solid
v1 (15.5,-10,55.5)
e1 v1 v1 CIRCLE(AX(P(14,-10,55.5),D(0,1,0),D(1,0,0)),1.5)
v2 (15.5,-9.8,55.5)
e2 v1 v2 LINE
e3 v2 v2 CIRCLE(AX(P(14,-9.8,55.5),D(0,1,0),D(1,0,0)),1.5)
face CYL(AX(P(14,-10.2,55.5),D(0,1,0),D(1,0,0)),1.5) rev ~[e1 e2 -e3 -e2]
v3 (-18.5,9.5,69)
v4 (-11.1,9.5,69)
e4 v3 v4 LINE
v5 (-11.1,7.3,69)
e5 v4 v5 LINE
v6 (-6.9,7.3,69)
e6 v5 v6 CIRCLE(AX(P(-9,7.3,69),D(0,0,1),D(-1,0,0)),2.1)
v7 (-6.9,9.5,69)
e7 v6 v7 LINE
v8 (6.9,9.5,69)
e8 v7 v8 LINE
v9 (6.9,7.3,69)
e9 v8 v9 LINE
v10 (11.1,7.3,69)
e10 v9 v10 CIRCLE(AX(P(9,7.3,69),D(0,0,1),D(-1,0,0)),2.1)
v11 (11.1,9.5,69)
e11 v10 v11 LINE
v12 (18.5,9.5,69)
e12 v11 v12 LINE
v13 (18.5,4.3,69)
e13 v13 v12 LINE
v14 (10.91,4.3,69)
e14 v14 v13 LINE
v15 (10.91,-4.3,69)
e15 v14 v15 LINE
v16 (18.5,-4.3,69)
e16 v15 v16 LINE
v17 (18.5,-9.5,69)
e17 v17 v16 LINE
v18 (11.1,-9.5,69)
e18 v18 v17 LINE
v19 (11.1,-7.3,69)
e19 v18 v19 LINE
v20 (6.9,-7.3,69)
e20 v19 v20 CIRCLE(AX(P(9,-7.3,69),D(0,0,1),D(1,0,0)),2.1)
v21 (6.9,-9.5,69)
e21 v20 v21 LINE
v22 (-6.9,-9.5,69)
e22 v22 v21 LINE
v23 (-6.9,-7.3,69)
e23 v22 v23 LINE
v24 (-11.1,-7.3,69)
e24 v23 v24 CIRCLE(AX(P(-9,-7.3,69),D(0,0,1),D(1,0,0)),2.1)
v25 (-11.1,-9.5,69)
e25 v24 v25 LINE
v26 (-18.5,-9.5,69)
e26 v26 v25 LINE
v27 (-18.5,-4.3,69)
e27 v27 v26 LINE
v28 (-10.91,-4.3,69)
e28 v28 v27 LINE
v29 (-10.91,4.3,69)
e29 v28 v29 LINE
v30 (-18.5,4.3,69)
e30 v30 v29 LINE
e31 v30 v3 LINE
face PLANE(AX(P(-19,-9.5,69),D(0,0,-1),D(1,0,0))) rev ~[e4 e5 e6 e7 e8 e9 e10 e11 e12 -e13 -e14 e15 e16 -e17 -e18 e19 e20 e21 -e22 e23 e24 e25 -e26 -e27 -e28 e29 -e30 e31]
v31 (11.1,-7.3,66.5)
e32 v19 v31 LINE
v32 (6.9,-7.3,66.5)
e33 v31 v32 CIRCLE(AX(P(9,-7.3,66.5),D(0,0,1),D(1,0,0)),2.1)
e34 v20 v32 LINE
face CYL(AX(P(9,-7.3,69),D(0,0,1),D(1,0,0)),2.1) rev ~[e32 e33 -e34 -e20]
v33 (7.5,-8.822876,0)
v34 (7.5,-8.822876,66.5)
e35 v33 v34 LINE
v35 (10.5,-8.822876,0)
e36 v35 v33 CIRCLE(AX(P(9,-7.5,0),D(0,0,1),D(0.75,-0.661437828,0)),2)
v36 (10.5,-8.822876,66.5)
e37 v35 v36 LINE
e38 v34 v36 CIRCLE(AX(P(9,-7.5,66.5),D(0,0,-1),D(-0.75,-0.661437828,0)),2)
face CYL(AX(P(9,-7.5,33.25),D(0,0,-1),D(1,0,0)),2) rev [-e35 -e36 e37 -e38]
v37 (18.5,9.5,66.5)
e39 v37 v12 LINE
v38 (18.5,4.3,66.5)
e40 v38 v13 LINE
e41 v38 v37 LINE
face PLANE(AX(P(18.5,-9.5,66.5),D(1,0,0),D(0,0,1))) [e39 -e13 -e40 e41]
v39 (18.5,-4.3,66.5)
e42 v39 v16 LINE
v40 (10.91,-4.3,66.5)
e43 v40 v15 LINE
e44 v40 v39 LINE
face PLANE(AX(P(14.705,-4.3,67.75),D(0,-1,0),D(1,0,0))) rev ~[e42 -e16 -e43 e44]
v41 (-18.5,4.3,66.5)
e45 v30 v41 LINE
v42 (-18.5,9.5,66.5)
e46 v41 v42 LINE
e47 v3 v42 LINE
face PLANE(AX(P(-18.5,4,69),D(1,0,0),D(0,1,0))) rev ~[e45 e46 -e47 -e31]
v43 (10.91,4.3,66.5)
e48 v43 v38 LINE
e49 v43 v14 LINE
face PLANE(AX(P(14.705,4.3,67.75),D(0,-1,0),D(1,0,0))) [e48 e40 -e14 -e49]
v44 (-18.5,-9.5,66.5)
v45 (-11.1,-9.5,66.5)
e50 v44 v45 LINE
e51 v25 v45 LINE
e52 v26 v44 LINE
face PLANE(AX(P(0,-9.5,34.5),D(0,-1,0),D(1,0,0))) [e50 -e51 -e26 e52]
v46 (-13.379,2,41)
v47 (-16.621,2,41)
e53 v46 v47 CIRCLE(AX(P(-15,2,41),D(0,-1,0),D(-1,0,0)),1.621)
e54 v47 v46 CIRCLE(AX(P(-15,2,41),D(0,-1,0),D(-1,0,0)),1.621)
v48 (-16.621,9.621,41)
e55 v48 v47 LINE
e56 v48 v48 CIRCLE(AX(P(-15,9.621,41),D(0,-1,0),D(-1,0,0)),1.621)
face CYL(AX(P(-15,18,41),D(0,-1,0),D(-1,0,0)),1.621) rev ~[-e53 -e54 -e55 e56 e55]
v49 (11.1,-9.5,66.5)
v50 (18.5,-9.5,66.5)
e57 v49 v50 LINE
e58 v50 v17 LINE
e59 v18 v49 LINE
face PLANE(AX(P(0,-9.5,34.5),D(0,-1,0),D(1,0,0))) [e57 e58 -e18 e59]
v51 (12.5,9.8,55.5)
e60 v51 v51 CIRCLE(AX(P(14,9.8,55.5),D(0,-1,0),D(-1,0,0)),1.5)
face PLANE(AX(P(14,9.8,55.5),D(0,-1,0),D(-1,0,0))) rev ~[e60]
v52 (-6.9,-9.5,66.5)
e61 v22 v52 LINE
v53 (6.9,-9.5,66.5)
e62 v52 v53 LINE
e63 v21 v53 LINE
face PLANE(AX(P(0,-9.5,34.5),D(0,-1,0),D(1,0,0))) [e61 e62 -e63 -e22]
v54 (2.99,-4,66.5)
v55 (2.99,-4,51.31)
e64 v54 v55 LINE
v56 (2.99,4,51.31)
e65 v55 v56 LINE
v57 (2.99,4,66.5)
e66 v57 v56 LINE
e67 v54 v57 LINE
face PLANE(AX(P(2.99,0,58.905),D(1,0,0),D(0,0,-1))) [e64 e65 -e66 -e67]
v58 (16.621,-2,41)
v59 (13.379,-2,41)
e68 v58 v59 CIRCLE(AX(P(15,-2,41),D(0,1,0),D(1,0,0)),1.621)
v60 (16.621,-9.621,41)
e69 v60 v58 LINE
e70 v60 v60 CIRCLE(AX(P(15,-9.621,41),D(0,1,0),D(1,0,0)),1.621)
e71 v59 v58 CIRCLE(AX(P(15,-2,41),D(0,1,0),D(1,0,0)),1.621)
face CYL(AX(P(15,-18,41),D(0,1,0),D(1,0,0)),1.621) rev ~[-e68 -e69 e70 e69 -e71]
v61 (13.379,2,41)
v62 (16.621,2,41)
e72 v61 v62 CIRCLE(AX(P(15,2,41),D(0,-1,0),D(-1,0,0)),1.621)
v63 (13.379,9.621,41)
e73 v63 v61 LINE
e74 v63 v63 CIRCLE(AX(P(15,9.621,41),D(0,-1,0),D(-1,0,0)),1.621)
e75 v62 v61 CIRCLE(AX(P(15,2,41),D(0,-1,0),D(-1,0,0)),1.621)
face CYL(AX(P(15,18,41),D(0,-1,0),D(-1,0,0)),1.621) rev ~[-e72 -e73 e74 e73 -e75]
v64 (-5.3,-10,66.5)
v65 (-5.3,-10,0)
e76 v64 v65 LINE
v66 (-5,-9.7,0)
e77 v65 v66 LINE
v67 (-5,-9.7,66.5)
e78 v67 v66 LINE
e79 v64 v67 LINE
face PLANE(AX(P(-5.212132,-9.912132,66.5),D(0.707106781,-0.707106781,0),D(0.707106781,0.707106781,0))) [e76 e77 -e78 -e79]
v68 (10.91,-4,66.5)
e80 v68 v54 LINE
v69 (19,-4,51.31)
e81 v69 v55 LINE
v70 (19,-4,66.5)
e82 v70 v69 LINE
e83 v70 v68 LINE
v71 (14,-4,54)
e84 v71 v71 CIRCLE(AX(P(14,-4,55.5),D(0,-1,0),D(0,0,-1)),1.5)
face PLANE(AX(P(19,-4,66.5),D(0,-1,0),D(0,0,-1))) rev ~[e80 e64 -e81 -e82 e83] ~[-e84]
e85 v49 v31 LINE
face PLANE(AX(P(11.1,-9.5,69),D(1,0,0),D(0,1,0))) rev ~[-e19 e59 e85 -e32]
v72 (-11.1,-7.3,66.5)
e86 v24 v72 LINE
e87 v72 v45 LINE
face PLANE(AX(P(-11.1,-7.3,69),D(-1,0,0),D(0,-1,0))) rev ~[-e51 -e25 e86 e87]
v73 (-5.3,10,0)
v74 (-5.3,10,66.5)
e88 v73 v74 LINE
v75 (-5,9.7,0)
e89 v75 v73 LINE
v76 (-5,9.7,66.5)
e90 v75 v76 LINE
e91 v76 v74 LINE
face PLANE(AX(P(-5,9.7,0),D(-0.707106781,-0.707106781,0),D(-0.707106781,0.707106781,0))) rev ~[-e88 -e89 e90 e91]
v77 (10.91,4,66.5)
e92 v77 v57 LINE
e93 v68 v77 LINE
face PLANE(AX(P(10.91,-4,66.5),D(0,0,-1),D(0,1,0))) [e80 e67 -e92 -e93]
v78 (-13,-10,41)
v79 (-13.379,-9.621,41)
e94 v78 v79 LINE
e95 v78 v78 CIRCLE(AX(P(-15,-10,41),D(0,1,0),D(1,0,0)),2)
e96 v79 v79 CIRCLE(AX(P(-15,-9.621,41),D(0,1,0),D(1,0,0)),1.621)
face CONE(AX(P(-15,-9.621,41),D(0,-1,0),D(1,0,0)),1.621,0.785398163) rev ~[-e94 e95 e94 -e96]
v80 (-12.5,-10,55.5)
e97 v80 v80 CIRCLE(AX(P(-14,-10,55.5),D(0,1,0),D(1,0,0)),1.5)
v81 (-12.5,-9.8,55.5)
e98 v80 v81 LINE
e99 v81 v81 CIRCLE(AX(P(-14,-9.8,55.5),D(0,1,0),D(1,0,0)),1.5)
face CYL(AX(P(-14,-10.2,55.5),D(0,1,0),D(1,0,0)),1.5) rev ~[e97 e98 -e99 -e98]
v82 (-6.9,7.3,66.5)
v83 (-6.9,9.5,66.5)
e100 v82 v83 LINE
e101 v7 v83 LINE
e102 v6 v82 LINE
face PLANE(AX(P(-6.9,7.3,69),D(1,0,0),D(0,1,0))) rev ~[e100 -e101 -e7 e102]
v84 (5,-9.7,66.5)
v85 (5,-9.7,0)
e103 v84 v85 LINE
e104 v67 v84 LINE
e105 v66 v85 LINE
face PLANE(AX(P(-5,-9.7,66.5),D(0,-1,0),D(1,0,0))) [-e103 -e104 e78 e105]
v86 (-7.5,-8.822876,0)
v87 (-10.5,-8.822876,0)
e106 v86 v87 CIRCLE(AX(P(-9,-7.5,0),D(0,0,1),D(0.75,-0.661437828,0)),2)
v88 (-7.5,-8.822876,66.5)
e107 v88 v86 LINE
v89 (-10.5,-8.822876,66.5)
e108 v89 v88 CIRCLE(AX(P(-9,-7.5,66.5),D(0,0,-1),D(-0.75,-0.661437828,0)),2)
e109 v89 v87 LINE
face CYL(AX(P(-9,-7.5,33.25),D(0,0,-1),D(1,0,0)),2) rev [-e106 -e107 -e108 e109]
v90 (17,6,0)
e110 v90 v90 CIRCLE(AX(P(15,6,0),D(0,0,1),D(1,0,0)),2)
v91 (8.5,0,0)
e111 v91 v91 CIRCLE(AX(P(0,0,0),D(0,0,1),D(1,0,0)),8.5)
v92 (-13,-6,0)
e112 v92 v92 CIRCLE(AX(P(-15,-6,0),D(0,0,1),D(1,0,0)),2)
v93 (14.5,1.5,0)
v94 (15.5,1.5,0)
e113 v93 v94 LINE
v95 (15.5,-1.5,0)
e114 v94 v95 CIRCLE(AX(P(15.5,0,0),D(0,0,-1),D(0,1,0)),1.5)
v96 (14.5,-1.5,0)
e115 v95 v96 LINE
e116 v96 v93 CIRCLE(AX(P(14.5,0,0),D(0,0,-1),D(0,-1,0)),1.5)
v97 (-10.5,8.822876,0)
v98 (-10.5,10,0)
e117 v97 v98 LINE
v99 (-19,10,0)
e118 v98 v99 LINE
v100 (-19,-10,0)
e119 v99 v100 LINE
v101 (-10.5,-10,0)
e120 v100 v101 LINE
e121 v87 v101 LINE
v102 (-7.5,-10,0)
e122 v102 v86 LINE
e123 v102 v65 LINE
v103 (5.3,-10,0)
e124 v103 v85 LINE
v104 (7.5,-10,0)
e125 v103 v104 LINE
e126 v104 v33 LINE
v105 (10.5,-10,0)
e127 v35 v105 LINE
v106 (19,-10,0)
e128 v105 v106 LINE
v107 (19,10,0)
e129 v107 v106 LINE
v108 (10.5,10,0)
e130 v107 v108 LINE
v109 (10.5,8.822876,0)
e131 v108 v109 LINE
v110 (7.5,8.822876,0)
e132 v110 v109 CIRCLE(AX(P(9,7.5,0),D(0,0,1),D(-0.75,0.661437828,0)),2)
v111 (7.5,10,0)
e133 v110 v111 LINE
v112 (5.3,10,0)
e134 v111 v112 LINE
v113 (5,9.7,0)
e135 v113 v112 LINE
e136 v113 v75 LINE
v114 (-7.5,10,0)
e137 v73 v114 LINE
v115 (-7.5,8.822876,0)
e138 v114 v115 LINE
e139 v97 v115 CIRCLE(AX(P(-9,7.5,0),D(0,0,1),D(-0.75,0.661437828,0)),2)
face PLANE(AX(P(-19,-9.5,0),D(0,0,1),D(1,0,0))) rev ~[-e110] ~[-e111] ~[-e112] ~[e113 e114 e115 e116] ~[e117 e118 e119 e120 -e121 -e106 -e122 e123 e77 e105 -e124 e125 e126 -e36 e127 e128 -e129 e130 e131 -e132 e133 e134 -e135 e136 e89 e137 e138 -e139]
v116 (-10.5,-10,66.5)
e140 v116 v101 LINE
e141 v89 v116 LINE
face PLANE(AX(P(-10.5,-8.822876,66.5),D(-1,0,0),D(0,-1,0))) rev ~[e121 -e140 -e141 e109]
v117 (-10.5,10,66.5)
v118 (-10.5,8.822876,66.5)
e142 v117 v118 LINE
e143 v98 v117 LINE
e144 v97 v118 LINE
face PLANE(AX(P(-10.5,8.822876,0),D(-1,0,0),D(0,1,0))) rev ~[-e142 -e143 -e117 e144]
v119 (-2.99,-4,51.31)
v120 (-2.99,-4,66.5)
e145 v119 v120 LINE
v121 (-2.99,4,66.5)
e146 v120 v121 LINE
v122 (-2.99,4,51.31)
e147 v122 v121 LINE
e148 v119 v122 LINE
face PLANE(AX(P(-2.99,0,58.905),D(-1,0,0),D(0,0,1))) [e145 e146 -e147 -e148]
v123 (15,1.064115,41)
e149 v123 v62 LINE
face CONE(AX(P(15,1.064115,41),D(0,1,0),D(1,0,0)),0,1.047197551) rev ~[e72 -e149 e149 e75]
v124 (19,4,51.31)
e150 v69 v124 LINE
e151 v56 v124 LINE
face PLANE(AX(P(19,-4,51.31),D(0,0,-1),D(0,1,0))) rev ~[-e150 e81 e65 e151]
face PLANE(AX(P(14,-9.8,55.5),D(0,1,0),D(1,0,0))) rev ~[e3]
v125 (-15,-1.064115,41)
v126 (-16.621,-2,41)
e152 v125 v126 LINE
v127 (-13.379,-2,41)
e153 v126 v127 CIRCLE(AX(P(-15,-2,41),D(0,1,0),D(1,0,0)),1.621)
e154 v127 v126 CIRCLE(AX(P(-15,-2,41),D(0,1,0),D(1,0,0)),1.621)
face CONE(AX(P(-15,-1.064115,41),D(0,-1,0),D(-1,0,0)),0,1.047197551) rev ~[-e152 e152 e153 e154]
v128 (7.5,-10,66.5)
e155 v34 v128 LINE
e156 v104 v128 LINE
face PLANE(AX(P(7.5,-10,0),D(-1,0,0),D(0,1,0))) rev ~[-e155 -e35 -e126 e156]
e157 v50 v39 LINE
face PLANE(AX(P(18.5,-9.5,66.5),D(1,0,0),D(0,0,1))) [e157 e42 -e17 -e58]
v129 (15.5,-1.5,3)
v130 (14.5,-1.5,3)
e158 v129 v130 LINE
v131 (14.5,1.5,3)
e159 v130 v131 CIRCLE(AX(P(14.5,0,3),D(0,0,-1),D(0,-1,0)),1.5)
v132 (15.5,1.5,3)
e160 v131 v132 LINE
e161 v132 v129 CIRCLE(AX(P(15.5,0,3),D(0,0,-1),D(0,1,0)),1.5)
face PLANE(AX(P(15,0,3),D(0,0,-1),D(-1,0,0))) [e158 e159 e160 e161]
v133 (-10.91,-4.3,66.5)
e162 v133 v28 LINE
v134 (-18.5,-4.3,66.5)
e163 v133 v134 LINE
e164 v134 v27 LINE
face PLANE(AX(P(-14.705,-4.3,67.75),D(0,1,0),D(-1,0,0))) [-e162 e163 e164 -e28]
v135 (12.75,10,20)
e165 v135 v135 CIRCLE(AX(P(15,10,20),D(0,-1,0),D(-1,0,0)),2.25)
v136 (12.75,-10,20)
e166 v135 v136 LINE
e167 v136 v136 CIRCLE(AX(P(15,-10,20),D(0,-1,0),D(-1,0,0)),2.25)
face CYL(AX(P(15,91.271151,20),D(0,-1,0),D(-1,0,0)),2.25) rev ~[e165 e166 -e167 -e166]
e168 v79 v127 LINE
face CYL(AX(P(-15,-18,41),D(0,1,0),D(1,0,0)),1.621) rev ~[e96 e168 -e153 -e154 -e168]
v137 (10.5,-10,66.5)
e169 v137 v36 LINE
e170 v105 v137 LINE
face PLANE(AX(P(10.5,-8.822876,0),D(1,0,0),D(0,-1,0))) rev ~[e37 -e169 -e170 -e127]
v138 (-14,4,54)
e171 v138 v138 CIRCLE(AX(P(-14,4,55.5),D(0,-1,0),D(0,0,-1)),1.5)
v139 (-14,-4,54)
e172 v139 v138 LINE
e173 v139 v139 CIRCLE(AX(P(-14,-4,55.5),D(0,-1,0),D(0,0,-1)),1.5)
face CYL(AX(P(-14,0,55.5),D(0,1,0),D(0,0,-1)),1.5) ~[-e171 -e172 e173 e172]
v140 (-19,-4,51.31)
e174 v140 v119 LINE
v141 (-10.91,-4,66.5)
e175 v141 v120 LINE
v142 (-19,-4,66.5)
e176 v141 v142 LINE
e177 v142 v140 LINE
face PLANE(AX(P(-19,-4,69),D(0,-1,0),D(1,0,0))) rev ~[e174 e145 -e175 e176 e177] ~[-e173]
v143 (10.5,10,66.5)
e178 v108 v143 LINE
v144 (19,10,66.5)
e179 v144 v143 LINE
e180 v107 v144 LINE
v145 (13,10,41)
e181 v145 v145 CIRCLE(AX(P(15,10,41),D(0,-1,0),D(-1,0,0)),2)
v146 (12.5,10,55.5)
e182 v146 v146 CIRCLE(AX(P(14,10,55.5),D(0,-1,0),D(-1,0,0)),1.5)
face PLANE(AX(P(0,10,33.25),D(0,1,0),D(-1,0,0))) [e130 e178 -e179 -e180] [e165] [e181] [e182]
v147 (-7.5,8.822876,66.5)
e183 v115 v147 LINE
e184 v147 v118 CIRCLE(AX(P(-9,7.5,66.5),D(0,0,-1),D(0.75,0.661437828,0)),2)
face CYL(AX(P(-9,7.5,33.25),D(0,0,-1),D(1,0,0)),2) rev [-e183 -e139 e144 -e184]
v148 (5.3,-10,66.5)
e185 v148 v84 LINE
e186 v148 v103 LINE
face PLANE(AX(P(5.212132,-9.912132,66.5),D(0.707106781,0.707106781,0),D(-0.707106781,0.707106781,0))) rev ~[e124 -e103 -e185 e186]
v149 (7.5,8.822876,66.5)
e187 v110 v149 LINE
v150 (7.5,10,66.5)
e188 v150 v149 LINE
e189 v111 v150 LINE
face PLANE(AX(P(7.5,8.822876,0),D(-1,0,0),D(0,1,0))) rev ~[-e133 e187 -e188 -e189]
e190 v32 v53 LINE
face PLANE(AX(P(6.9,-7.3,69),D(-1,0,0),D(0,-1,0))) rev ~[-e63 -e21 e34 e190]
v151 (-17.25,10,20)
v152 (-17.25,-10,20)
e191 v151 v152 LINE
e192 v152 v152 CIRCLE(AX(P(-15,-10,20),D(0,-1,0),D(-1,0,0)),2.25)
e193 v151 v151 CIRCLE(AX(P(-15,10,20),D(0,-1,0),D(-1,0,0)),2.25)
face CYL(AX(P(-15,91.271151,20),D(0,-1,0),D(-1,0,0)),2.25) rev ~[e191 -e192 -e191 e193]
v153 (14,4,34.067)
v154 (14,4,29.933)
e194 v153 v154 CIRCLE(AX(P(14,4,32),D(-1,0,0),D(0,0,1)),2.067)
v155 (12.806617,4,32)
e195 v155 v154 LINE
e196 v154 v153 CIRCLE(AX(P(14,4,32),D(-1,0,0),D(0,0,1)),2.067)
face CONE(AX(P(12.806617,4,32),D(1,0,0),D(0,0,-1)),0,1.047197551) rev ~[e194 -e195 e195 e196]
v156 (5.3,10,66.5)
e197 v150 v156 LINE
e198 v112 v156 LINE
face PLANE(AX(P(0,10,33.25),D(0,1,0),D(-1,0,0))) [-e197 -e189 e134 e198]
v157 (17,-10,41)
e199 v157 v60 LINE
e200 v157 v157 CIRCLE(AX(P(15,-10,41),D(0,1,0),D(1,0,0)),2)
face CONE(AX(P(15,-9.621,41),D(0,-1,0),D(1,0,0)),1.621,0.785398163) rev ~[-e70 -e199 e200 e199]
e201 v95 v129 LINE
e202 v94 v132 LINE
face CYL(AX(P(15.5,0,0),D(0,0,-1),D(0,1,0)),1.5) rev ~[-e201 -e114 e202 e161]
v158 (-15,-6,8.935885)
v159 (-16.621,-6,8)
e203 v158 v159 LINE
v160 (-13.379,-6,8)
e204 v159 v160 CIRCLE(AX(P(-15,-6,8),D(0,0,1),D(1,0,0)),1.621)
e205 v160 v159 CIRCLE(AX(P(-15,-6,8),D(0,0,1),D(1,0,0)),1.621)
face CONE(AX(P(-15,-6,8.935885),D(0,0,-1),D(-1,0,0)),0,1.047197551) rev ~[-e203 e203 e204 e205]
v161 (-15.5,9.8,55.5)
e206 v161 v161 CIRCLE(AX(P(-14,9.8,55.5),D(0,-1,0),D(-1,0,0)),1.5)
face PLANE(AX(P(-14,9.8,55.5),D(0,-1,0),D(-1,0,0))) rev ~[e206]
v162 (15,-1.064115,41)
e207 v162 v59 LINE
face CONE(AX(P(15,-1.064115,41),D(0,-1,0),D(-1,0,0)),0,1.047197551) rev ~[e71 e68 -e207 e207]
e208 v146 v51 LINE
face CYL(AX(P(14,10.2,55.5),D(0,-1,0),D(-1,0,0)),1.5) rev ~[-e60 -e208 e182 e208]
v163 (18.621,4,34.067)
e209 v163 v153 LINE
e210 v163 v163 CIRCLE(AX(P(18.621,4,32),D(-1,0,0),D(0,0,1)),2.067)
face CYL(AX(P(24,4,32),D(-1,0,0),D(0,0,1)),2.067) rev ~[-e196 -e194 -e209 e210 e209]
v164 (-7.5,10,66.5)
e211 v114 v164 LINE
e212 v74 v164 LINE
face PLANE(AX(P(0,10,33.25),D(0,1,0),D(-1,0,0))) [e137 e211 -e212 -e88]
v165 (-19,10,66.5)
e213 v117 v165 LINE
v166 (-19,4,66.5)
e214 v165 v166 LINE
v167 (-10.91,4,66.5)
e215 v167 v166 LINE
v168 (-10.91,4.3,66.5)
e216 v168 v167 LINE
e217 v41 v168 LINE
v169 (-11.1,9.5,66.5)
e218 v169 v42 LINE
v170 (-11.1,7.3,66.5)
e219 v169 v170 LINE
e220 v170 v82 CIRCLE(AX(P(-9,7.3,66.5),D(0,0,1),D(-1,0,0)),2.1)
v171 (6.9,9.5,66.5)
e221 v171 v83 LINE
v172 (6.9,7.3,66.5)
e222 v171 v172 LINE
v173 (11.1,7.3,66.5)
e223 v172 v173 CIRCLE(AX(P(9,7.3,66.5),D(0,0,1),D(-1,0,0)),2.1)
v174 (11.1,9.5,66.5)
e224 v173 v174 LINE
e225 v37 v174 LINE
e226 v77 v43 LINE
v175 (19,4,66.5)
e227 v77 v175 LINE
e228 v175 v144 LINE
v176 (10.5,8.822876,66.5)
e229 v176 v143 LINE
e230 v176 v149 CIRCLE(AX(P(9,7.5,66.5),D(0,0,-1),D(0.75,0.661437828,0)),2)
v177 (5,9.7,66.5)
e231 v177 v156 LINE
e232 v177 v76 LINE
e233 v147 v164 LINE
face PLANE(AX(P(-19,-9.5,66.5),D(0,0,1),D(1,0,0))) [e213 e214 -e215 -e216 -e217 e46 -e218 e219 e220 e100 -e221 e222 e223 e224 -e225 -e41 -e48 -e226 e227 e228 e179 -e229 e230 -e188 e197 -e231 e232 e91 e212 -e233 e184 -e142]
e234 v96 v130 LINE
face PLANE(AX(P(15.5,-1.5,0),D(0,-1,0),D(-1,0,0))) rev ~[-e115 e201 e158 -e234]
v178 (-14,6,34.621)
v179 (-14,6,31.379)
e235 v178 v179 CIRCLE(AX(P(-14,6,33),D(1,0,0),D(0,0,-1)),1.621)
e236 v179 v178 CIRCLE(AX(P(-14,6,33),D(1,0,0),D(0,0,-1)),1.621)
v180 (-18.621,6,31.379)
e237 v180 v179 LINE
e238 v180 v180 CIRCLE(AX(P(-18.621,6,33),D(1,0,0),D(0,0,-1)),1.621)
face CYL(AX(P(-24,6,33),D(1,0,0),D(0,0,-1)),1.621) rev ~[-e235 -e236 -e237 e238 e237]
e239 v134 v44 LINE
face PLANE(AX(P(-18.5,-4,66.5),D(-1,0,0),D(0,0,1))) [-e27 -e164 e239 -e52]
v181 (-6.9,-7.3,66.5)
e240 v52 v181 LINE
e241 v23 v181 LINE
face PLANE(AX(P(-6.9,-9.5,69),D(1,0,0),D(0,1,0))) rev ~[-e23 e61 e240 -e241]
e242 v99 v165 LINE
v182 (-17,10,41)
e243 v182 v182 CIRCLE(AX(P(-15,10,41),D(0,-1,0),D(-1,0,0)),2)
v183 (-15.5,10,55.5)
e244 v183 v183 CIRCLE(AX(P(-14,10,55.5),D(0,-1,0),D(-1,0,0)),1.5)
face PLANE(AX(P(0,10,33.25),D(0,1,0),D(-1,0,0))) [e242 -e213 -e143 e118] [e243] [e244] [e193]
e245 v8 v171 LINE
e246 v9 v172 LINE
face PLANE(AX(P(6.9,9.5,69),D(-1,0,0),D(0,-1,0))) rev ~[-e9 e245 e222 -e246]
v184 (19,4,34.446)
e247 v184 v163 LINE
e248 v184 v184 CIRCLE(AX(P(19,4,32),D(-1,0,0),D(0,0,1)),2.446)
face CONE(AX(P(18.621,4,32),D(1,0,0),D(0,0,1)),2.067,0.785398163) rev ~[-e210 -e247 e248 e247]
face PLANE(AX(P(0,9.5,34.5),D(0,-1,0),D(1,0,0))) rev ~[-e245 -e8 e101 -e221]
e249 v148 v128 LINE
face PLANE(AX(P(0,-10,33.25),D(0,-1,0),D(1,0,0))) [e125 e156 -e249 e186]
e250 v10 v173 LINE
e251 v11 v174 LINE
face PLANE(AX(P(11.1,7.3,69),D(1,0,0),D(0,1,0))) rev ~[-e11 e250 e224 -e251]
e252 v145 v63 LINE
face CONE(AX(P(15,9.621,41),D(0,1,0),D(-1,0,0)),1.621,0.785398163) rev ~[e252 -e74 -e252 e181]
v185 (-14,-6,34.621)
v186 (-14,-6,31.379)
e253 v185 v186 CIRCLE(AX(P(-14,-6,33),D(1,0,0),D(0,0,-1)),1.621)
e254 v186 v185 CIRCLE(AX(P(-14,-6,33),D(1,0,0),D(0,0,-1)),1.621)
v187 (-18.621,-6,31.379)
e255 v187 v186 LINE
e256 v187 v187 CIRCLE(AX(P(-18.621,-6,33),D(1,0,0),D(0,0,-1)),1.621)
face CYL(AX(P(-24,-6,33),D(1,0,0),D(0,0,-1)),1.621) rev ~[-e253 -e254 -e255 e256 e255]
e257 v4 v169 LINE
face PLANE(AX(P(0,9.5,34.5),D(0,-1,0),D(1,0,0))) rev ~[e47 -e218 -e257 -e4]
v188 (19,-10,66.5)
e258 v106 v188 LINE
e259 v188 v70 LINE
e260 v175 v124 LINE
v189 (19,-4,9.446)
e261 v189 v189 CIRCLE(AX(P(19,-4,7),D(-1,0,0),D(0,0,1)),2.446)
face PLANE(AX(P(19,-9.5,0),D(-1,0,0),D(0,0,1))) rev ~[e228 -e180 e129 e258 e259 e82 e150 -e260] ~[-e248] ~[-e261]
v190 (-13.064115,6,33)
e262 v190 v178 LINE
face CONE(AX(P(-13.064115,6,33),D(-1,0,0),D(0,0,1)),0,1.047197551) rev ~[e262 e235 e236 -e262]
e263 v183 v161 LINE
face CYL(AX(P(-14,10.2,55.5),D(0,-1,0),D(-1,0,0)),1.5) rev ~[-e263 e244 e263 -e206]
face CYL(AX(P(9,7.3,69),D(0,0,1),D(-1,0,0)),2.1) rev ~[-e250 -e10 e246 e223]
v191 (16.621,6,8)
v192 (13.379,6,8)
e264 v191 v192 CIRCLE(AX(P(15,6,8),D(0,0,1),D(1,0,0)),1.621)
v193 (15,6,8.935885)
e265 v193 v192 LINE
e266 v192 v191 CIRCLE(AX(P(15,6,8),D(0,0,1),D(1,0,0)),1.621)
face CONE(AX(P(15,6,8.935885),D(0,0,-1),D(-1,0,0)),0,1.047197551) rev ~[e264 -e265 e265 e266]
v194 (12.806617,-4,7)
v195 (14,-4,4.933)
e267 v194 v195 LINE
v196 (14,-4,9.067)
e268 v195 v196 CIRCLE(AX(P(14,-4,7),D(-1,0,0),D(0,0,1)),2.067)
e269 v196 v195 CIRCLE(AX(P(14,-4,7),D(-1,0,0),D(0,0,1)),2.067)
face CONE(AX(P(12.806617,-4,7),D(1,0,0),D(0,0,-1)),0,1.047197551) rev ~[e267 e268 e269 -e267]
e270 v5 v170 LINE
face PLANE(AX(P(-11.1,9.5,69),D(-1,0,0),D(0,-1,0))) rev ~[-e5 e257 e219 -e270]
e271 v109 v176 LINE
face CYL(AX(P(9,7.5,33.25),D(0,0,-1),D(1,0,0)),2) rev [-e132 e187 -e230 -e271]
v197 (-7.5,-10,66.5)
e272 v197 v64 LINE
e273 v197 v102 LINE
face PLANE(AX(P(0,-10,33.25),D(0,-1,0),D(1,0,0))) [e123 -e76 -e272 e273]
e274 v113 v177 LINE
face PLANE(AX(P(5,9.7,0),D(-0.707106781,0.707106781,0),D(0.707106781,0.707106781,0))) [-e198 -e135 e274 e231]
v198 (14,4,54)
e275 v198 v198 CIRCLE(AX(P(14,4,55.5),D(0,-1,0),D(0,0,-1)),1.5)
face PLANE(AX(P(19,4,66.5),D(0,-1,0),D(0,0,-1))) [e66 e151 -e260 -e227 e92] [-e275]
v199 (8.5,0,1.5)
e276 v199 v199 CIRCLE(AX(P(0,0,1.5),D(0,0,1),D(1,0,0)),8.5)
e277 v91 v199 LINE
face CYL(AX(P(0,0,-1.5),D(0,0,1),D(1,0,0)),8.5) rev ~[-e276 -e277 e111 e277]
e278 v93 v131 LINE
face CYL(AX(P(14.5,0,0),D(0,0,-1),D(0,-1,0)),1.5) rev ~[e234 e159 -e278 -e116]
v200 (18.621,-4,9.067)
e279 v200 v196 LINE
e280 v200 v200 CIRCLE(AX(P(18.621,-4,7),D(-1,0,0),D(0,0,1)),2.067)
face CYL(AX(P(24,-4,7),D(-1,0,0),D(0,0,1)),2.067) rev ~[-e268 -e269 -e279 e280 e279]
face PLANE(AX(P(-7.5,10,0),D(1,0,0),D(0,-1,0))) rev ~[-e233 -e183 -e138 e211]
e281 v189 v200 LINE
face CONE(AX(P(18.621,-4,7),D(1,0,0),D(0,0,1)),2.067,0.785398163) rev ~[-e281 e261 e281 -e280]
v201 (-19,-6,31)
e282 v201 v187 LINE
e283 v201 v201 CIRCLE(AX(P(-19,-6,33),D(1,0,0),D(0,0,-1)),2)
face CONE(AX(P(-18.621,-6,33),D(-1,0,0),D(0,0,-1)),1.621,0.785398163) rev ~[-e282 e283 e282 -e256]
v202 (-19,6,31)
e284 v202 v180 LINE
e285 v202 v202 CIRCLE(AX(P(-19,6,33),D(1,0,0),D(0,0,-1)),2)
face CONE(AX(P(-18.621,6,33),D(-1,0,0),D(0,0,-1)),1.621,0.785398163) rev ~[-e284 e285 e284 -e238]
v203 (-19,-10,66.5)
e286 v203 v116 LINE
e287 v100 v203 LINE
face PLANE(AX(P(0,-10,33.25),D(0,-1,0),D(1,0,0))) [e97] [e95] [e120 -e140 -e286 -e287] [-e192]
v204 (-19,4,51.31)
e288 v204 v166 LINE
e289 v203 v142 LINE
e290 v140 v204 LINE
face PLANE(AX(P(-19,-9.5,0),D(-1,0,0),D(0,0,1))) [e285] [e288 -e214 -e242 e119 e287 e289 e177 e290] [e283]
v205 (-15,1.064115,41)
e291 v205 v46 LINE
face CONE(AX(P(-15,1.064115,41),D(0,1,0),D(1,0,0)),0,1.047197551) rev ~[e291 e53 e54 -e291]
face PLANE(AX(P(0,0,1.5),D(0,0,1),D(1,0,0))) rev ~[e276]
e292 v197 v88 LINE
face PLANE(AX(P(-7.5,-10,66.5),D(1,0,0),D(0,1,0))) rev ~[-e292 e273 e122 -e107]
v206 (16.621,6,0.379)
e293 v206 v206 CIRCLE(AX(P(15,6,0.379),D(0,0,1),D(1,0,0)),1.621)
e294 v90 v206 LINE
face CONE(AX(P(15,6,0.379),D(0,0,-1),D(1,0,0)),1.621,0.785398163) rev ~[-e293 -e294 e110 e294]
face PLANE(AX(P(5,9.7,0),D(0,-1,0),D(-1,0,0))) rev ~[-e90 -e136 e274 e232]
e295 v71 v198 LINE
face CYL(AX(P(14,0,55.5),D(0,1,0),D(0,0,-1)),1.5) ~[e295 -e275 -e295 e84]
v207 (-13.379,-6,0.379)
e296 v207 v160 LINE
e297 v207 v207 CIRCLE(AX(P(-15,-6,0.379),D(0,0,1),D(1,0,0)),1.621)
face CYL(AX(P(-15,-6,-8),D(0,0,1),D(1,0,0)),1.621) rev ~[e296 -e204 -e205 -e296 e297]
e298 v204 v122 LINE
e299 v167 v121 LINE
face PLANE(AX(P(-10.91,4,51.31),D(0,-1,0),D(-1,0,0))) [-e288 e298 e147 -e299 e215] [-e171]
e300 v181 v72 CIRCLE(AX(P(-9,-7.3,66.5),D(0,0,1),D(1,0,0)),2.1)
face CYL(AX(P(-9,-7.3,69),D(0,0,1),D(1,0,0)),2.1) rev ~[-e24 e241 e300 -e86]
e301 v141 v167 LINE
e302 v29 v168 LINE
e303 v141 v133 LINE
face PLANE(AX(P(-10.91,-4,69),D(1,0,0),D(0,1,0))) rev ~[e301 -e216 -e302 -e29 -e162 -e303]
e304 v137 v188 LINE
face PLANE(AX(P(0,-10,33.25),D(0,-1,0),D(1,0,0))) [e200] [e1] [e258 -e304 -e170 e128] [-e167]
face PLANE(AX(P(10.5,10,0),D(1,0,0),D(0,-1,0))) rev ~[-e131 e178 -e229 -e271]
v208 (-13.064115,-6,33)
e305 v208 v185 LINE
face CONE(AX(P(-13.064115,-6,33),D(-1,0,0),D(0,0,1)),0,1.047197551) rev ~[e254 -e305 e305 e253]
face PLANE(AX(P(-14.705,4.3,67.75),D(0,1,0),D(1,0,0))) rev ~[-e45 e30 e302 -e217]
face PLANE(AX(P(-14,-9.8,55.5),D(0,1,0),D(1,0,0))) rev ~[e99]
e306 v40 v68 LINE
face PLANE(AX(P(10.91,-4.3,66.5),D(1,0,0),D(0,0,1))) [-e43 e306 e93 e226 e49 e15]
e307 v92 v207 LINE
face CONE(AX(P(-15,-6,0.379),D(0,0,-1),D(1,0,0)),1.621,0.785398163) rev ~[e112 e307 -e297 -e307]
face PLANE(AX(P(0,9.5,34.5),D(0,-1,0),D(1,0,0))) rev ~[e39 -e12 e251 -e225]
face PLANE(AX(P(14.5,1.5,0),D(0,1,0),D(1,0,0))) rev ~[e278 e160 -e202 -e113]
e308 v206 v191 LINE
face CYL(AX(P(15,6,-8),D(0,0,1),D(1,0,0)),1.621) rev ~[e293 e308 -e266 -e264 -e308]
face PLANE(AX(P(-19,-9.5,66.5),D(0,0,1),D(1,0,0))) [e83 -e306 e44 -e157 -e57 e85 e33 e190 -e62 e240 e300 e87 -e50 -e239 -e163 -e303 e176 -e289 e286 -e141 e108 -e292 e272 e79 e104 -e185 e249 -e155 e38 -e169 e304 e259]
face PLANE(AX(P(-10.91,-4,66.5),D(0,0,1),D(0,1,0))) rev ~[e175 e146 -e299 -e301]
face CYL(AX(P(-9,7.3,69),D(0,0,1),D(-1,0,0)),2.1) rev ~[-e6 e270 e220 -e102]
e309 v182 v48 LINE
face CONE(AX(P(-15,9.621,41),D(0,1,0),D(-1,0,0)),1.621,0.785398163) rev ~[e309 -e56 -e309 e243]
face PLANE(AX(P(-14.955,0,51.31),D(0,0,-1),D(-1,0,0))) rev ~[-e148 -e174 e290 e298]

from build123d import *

# Parameters (mm, degrees)
SKETCH_1_W                  = 38
SKETCH_1_H                  = 69
EXTRUDE_1_DEPTH             = 19
CUT_EXTRUDE_1_DEPTH         = 2.5
CUT_EXTRUDE_2_REACH         = 57.533
SKETCH_4_W                  = 8.09
SKETCH_4_H                  = 8
SKETCH_5_W                  = 15.19
SKETCH_5_H                  = 8
CUT_EXTRUDE_3_DEPTH         = 7.92
SKETCH_6_W                  = 0.5
SKETCH_6_H                  = 2.5
CUT_EXTRUDE_4_DEPTH         = 75.047282192
SKETCH_7_W                  = 38
SKETCH_7_H                  = 66.5
EXTRUDE_2_DEPTH             = 0.5
SKETCH_8_W                  = 0.5
SKETCH_8_H                  = 2.5
CUT_EXTRUDE_5_DEPTH         = 73.924618614
SKETCH_9_W                  = 38
SKETCH_9_H                  = 66.5
EXTRUDE_3_DEPTH             = 0.5
SKETCH_10_W                 = 15.19
SKETCH_10_H                 = 8
CUT_EXTRUDE_6_DEPTH         = 0.5
SKETCH_11_W                 = 17.69
SKETCH_11_H                 = 8
CUT_EXTRUDE_7_DEPTH         = 7.59
SKETCH_12_W                 = 15.19
SKETCH_12_H                 = 8
CUT_EXTRUDE_8_DEPTH         = 7.92
CUT_EXTRUDE_9_REACH         = 74.983
SKETCH_13_W                 = 7.59
SKETCH_13_H                 = 2.5
SKETCH_14_W                 = 7.59
SKETCH_14_H                 = 2.5
CUT_EXTRUDE_10_DEPTH        = 0.3
CUT_EXTRUDE_11_REACH        = 74.983
SKETCH_15_W                 = 7.59
SKETCH_15_H                 = 2.5
SKETCH_16_W                 = 7.59
SKETCH_16_H                 = 2.5
CUT_EXTRUDE_12_DEPTH        = 0.3
CUT_EXTRUDE_13_DEPTH        = 2.5
CUT_EXTRUDE_14_DEPTH        = 2.5
CUT_EXTRUDE_15_DEPTH        = 2.5
CUT_EXTRUDE_16_DEPTH        = 2.5
SKETCH_21_W                 = 10
SKETCH_21_H                 = 0.3
CUT_EXTRUDE_17_DEPTH        = 70.880254722
CUT_EXTRUDE_18_DEPTH        = 70.880254722
CUT_EXTRUDE_19_DEPTH        = 73.263407061
CUT_EXTRUDE_20_DEPTH        = 73.263407061
SKETCH_25_W                 = 10
SKETCH_25_H                 = 0.3
CUT_EXTRUDE_21_DEPTH        = 66.5
CUT_EXTRUDE_22_DEPTH        = 73.263407061
CUT_EXTRUDE_23_DEPTH        = 3
DRAFT_1_ANGLE               = 45
DRAFT_2_ANGLE               = 45
SKETCH_28_W                 = 2
SKETCH_28_H                 = 66.5
SKETCH_29_W                 = 2
SKETCH_29_H                 = 66.5
SKETCH_30_W                 = 2
SKETCH_30_H                 = 66.5
SKETCH_31_W                 = 2
SKETCH_31_H                 = 66.5
SKETCH_32_W                 = 1.5
SKETCH_32_H                 = 8
SKETCH_33_W                 = 1.5
SKETCH_33_H                 = 8
HOLE_WIZARD_3_0_3_1_D       = 3
HOLE_WIZARD_3_0_3_1_DEPTH   = 0.2
HOLE_WIZARD_M3_1_D          = 3.242
HOLE_WIZARD_M3_1_DEPTH      = 8
HOLE_WIZARD_M3_1_TIP        = 0.935884786
HOLE_WIZARD_M3_2_D          = 3.242
HOLE_WIZARD_M3_2_DEPTH      = 5
HOLE_WIZARD_M3_2_TIP        = 0.935884786
HOLE_WIZARD_3_0_3_2_D       = 3
HOLE_WIZARD_3_0_3_2_DEPTH   = 0.2
HOLE_WIZARD_4_5_4_5_1_D     = 4.5
HOLE_WIZARD_M3_3_D          = 3.242
HOLE_WIZARD_M3_3_DEPTH      = 8
HOLE_WIZARD_M3_3_TIP        = 0.935884786
HOLE_WIZARD_17_0_17_1_D     = 17
HOLE_WIZARD_17_0_17_1_DEPTH = 1.5
HOLE_WIZARD_M3_4_D          = 3.242
HOLE_WIZARD_M3_4_DEPTH      = 8
HOLE_WIZARD_M3_4_TIP        = 0.935884786
HOLE_WIZARD_M3_5_1_D        = 4.134
HOLE_WIZARD_M3_5_1_DEPTH    = 5
HOLE_WIZARD_M3_5_1_TIP      = 1.193383006
CHAMFER_1_SIZE              = 0.379


with BuildPart() as part:
    # 草图1 → 凸台-拉伸1 (new body)
    with BuildSketch(Plane.XZ.offset(9.5)):
        with Locations((0, 34.5)):
            Rectangle(SKETCH_1_W, SKETCH_1_H)
    extrude(amount=-EXTRUDE_1_DEPTH)

    # 草图2 → 切除-拉伸1 (cut)
    with BuildSketch(Plane.XY.offset(69)):
        Polygon((-19, -4), (-10.91, -4), (-10.91, 4), (-18.5, 4), (-18.5, 9.5), (-19, 9.5), align=None)
    extrude(amount=-CUT_EXTRUDE_1_DEPTH, mode=Mode.SUBTRACT)

    # 草图4 → 切除-拉伸2 (cut, up to next)
    with BuildSketch(Plane(origin=(0, 0, 51.31), x_dir=(-1, 0, 0), z_dir=(0, 0, -1)), mode=Mode.PRIVATE) as cut_extrude_2_sk1:
        with Locations((14.955, 0)):
            Rectangle(SKETCH_4_W, SKETCH_4_H)
    cut_extrude_2_tool1 = extrude(cut_extrude_2_sk1.sketch, amount=-CUT_EXTRUDE_2_REACH, mode=Mode.PRIVATE) & part.part
    add(cut_extrude_2_tool1.solids().sort_by_distance((-14.955, 0, 51.31))[0], mode=Mode.SUBTRACT)

    # 草图5 → 切除-拉伸3 (cut)
    with BuildSketch(Plane.ZY.offset(10.91)):
        with Locations((58.905, 0)):
            Rectangle(SKETCH_5_W, SKETCH_5_H)
    extrude(amount=-CUT_EXTRUDE_3_DEPTH, mode=Mode.SUBTRACT)

    # 草图6 → 切除-拉伸4 (cut, through all)
    with BuildSketch(Plane.XZ.offset(9.5)):
        with Locations((18.75, 67.75)):
            Rectangle(SKETCH_6_W, SKETCH_6_H)
    extrude(amount=-CUT_EXTRUDE_4_DEPTH, mode=Mode.SUBTRACT)

    # 草图7 → 凸台-拉伸2 (add)
    with BuildSketch(Plane(origin=(0, 9.5, 0), x_dir=(-1, 0, 0), z_dir=(0, 1, 0))):
        with Locations((0, 33.25)):
            Rectangle(SKETCH_7_W, SKETCH_7_H)
    extrude(amount=EXTRUDE_2_DEPTH)

    # 草图8 → 切除-拉伸5 (cut, through all)
    with BuildSketch(Plane(origin=(0, -4, 0), x_dir=(-1, 0, 0), z_dir=(0, 1, 0))):
        with Locations((18.75, 67.75)):
            Rectangle(SKETCH_8_W, SKETCH_8_H)
    extrude(amount=-CUT_EXTRUDE_5_DEPTH, mode=Mode.SUBTRACT)

    # 草图9 → 凸台-拉伸3 (add)
    with BuildSketch(Plane.XZ.offset(9.5)):
        with Locations((0, 33.25)):
            Rectangle(SKETCH_9_W, SKETCH_9_H)
    extrude(amount=EXTRUDE_3_DEPTH)

    # 草图10 → 切除-拉伸6 (cut)
    with BuildSketch(Plane(origin=(19, 0, 0), x_dir=(0, 0, -1), z_dir=(1, 0, 0))):
        with Locations((-58.905, 0)):
            Rectangle(SKETCH_10_W, SKETCH_10_H)
    extrude(amount=-CUT_EXTRUDE_6_DEPTH, mode=Mode.SUBTRACT)

    # 草图11 → 切除-拉伸7 (cut)
    with BuildSketch(Plane(origin=(18.5, 0, 0), x_dir=(0, 0, -1), z_dir=(1, 0, 0))):
        with Locations((-60.155, 0)):
            Rectangle(SKETCH_11_W, SKETCH_11_H)
    extrude(amount=-CUT_EXTRUDE_7_DEPTH, mode=Mode.SUBTRACT)

    # 草图12 → 切除-拉伸8 (cut)
    with BuildSketch(Plane(origin=(10.91, 0, 0), x_dir=(0, 0, -1), z_dir=(1, 0, 0))):
        with Locations((-58.905, 0)):
            Rectangle(SKETCH_12_W, SKETCH_12_H)
    extrude(amount=-CUT_EXTRUDE_8_DEPTH, mode=Mode.SUBTRACT)

    # 草图13 → 切除-拉伸9 (cut, up to next)
    with BuildSketch(Plane.XZ.offset(4.3), mode=Mode.PRIVATE) as cut_extrude_9_sk1:
        with Locations((14.705, 67.75)):
            Rectangle(SKETCH_13_W, SKETCH_13_H)
    cut_extrude_9_tool1 = extrude(cut_extrude_9_sk1.sketch, amount=-CUT_EXTRUDE_9_REACH, mode=Mode.PRIVATE) & part.part
    add(cut_extrude_9_tool1.solids().sort_by_distance((14.705, -4.3, 67.75))[0], mode=Mode.SUBTRACT)

    # 草图14 → 切除-拉伸10 (cut)
    with BuildSketch(Plane(origin=(0, -4, 0), x_dir=(-1, 0, 0), z_dir=(0, 1, 0))):
        with Locations((14.705, 67.75)):
            Rectangle(SKETCH_14_W, SKETCH_14_H)
    extrude(amount=-CUT_EXTRUDE_10_DEPTH, mode=Mode.SUBTRACT)

    # 草图15 → 切除-拉伸11 (cut, up to next)
    with BuildSketch(Plane(origin=(0, 4.3, 0), x_dir=(1, 0, 0), z_dir=(0, 1, 0)), mode=Mode.PRIVATE) as cut_extrude_11_sk1:
        with Locations((-14.705, -67.75)):
            Rectangle(SKETCH_15_W, SKETCH_15_H)
    cut_extrude_11_tool1 = extrude(cut_extrude_11_sk1.sketch, amount=-CUT_EXTRUDE_11_REACH, mode=Mode.PRIVATE) & part.part
    add(cut_extrude_11_tool1.solids().sort_by_distance((-14.705, 4.3, 67.75))[0], mode=Mode.SUBTRACT)

    # 草图16 → 切除-拉伸12 (cut)
    with BuildSketch(Plane.XZ.offset(-4)):
        with Locations((14.705, 67.75)):
            Rectangle(SKETCH_16_W, SKETCH_16_H)
    extrude(amount=-CUT_EXTRUDE_12_DEPTH, mode=Mode.SUBTRACT)

    # 草图17 → 切除-拉伸13 (cut)
    with BuildSketch(Plane.XY.offset(69)):
        with BuildLine():
            Line((6.9, -7.300000198), (6.9, -9.5))
            Line((6.9, -9.5), (11.1, -9.5))
            Line((11.1, -9.5), (11.1, -7.300000198))
            ThreePointArc((11.1, -7.300000198), (9, -5.200000198), (6.9, -7.300000198))
        make_face()
    extrude(amount=-CUT_EXTRUDE_13_DEPTH, mode=Mode.SUBTRACT)

    # 草图18 → 切除-拉伸14 (cut)
    with BuildSketch(Plane.XY.offset(69)):
        with BuildLine():
            Line((-11.1, -7.300000198), (-11.1, -9.5))
            Line((-11.1, -9.5), (-6.9, -9.5))
            Line((-6.9, -9.5), (-6.9, -7.300000198))
            ThreePointArc((-6.9, -7.300000198), (-9, -5.200000198), (-11.1, -7.300000198))
        make_face()
    extrude(amount=-CUT_EXTRUDE_14_DEPTH, mode=Mode.SUBTRACT)

    # 草图19 → 切除-拉伸15 (cut)
    with BuildSketch(Plane.XY.offset(69)):
        with BuildLine():
            Line((-6.9, 9.5), (-11.1, 9.5))
            Line((-11.1, 9.5), (-11.1, 7.300000094))
            ThreePointArc((-11.1, 7.300000094), (-9, 5.200000094), (-6.9, 7.300000094))
            Line((-6.9, 7.300000094), (-6.9, 9.5))
        make_face()
    extrude(amount=-CUT_EXTRUDE_15_DEPTH, mode=Mode.SUBTRACT)

    # 草图20 → 切除-拉伸16 (cut)
    with BuildSketch(Plane.XY.offset(69)):
        with BuildLine():
            Line((11.1, 9.5), (6.9, 9.5))
            Line((6.9, 9.5), (6.9, 7.300000094))
            ThreePointArc((6.9, 7.300000094), (9, 5.200000094), (11.1, 7.300000094))
            Line((11.1, 7.300000094), (11.1, 9.5))
        make_face()
    extrude(amount=-CUT_EXTRUDE_16_DEPTH, mode=Mode.SUBTRACT)

    # 草图21 → 切除-拉伸17 (cut, through all)
    with BuildSketch(Plane.XY.offset(66.5)):
        with Locations((0, -9.85)):
            Rectangle(SKETCH_21_W, SKETCH_21_H)
    extrude(amount=-CUT_EXTRUDE_17_DEPTH, mode=Mode.SUBTRACT)

    # 草图22 → 切除-拉伸18 (cut, through all)
    with BuildSketch(Plane.XY.offset(66.5)):
        with BuildLine():
            Line((-7.5, -10), (-7.5, -8.822875656))
            ThreePointArc((-7.5, -8.822875656), (-9, -9.5), (-10.5, -8.822875656))
            Line((-10.5, -8.822875656), (-10.5, -10))
            Line((-10.5, -10), (-7.5, -10))
        make_face()
    extrude(amount=-CUT_EXTRUDE_18_DEPTH, mode=Mode.SUBTRACT)

    # 草图23 → 切除-拉伸19 (cut, through all)
    with BuildSketch(Plane(origin=(0, 0, 0), x_dir=(-1, 0, 0), z_dir=(0, 0, -1))):
        with BuildLine():
            Line((-10.5, -10), (-7.5, -10))
            Line((-7.5, -10), (-7.5, -8.822875656))
            ThreePointArc((-7.5, -8.822875656), (-9, -9.5), (-10.5, -8.822875656))
            Line((-10.5, -8.822875656), (-10.5, -10))
        make_face()
    extrude(amount=-CUT_EXTRUDE_19_DEPTH, mode=Mode.SUBTRACT)

    # 草图24 → 切除-拉伸20 (cut, through all)
    with BuildSketch(Plane(origin=(0, 0, 0), x_dir=(-1, 0, 0), z_dir=(0, 0, -1))):
        with BuildLine():
            Line((-7.5, 10), (-10.5, 10))
            Line((-10.5, 10), (-10.5, 8.822875656))
            ThreePointArc((-10.5, 8.822875656), (-9, 9.5), (-7.5, 8.822875656))
            Line((-7.5, 8.822875656), (-7.5, 10))
        make_face()
    extrude(amount=-CUT_EXTRUDE_20_DEPTH, mode=Mode.SUBTRACT)

    # 草图25 → 切除-拉伸21 (cut)
    with BuildSketch(Plane(origin=(0, 0, 0), x_dir=(-1, 0, 0), z_dir=(0, 0, -1))):
        with Locations((0, 9.85)):
            Rectangle(SKETCH_25_W, SKETCH_25_H)
    extrude(amount=-CUT_EXTRUDE_21_DEPTH, mode=Mode.SUBTRACT)

    # 草图26 → 切除-拉伸22 (cut, through all)
    with BuildSketch(Plane(origin=(0, 0, 0), x_dir=(-1, 0, 0), z_dir=(0, 0, -1))):
        with BuildLine():
            Line((10.5, 10), (7.5, 10))
            Line((7.5, 10), (7.5, 8.822875656))
            ThreePointArc((7.5, 8.822875656), (9, 9.5), (10.5, 8.822875656))
            Line((10.5, 8.822875656), (10.5, 10))
        make_face()
    extrude(amount=-CUT_EXTRUDE_22_DEPTH, mode=Mode.SUBTRACT)

    # 草图27 → 切除-拉伸23 (cut)
    with BuildSketch(Plane(origin=(0, 0, 0), x_dir=(-1, 0, 0), z_dir=(0, 0, -1))):
        with BuildLine():
            Line((-14.5, 1.5), (-15.5, 1.5))
            ThreePointArc((-15.5, 1.5), (-17, 0), (-15.5, -1.5))
            Line((-15.5, -1.5), (-14.5, -1.5))
            ThreePointArc((-14.5, -1.5), (-13, 0), (-14.5, 1.5))
        make_face()
    extrude(amount=-CUT_EXTRUDE_23_DEPTH, mode=Mode.SUBTRACT)

    # 拔模1
    draft_1_faces = [part.faces().sort_by_distance(p)[0] for p in [
        (5, -9.85, 33.25),
        (-5, -9.85, 33.25),
    ]]
    draft(draft_1_faces, Plane(origin=(5, -9.7, 0), x_dir=(0, 0, -1), z_dir=(0, -1, 0)), DRAFT_1_ANGLE)

    # 拔模2
    draft_2_faces = [part.faces().sort_by_distance(p)[0] for p in [
        (-5, 9.85, 33.25),
        (5, 9.85, 33.25),
    ]]
    draft(draft_2_faces, Plane(origin=(5, 9.7, 66.5), x_dir=(0, 0, 1), z_dir=(0, 1, 0)), DRAFT_2_ANGLE)

    # 草图28 → 切除-旋转1 (revolve, cut)
    with BuildSketch(Plane(origin=(0, -7.5, 0), x_dir=(1, 0, 0), z_dir=(0, 1, 0))):
        with Locations((10, -33.25)):
            Rectangle(SKETCH_28_W, SKETCH_28_H)
    revolve(axis=Axis((9, -7.5, 0), (0, 0, 1)), mode=Mode.SUBTRACT)

    # 草图29 → 切除-旋转2 (revolve, cut)
    with BuildSketch(Plane(origin=(0, -7.5, 0), x_dir=(1, 0, 0), z_dir=(0, 1, 0))):
        with Locations((-8, -33.25)):
            Rectangle(SKETCH_29_W, SKETCH_29_H)
    revolve(axis=Axis((-9, -7.5, 0), (0, 0, 1)), mode=Mode.SUBTRACT)

    # 草图30 → 切除-旋转3 (revolve, cut)
    with BuildSketch(Plane(origin=(0, 7.5, 0), x_dir=(1, 0, 0), z_dir=(0, 1, 0))):
        with Locations((-8, -33.25)):
            Rectangle(SKETCH_30_W, SKETCH_30_H)
    revolve(axis=Axis((-9, 7.5, 0), (0, 0, 1)), mode=Mode.SUBTRACT)

    # 草图31 → 切除-旋转4 (revolve, cut)
    with BuildSketch(Plane(origin=(0, 7.5, 0), x_dir=(1, 0, 0), z_dir=(0, 1, 0))):
        with Locations((10, -33.25)):
            Rectangle(SKETCH_31_W, SKETCH_31_H)
    revolve(axis=Axis((9, 7.5, 0), (0, 0, 1)), mode=Mode.SUBTRACT)

    # 草图32 → 旋转1 (revolve)
    with BuildSketch(Plane.XY.offset(55.5), mode=Mode.PRIVATE) as revolve_1_sk:
        with Locations((14.75, 0)):
            Rectangle(SKETCH_32_W, SKETCH_32_H)
    revolve(revolve_1_sk.sketch.rotate(Axis((14, 4, 55.5), (0, -1, 0)), 270), axis=Axis((14, 4, 55.5), (0, -1, 0)))

    # 草图33 → 旋转2 (revolve)
    with BuildSketch(Plane.XY.offset(55.5), mode=Mode.PRIVATE) as revolve_2_sk:
        with Locations((-13.25, 0)):
            Rectangle(SKETCH_33_W, SKETCH_33_H)
    revolve(revolve_2_sk.sketch.rotate(Axis((-14, 4, 55.5), (0, -1, 0)), 270), axis=Axis((-14, 4, 55.5), (0, -1, 0)))

    # Ø3.0 (3) 直径孔1
    with Locations(Plane(origin=(0, 10, 0), x_dir=(1, 0, 0), z_dir=(0, 1, 0))):
        with Locations((-14, -55.5), (14, -55.5)):
            Hole(HOLE_WIZARD_3_0_3_1_D / 2, depth=HOLE_WIZARD_3_0_3_1_DEPTH)

    # M3 间隙孔1
    with Locations(Plane(origin=(0, 10, 0), x_dir=(1, 0, 0), z_dir=(0, 1, 0))):
        with Locations((-15, -41), (15, -41)):
            Hole(HOLE_WIZARD_M3_1_D / 2, depth=HOLE_WIZARD_M3_1_DEPTH)
            with Locations((0, 0, -(HOLE_WIZARD_M3_1_DEPTH + HOLE_WIZARD_M3_1_TIP / 2))):  # 120° drill point
                Cone(0, HOLE_WIZARD_M3_1_D / 2, HOLE_WIZARD_M3_1_TIP, mode=Mode.SUBTRACT)

    # M3 间隙孔2
    with Locations(Plane.ZY.offset(19)):
        with Locations((33, 6), (33, -6)):
            Hole(HOLE_WIZARD_M3_2_D / 2, depth=HOLE_WIZARD_M3_2_DEPTH)
            with Locations((0, 0, -(HOLE_WIZARD_M3_2_DEPTH + HOLE_WIZARD_M3_2_TIP / 2))):  # 120° drill point
                Cone(0, HOLE_WIZARD_M3_2_D / 2, HOLE_WIZARD_M3_2_TIP, mode=Mode.SUBTRACT)

    # Ø3.0 (3) 直径孔2
    with Locations(Plane(origin=(0, -10, 0), x_dir=(-1, 0, 0), z_dir=(0, -1, 0))):
        with Locations((-14, -55.5), (14, -55.5)):
            Hole(HOLE_WIZARD_3_0_3_2_D / 2, depth=HOLE_WIZARD_3_0_3_2_DEPTH)

    # Ø4.5 (4.5) 直径孔1 (through all)
    with Locations(Plane(origin=(0, 10, 0), x_dir=(1, 0, 0), z_dir=(0, 1, 0))):
        with Locations((15, -20), (-15, -20)):
            Hole(HOLE_WIZARD_4_5_4_5_1_D / 2)

    # M3 间隙孔3
    with Locations(Plane(origin=(0, -10, 0), x_dir=(-1, 0, 0), z_dir=(0, -1, 0))):
        with Locations((-15, -41), (15, -41)):
            Hole(HOLE_WIZARD_M3_3_D / 2, depth=HOLE_WIZARD_M3_3_DEPTH)
            with Locations((0, 0, -(HOLE_WIZARD_M3_3_DEPTH + HOLE_WIZARD_M3_3_TIP / 2))):  # 120° drill point
                Cone(0, HOLE_WIZARD_M3_3_D / 2, HOLE_WIZARD_M3_3_TIP, mode=Mode.SUBTRACT)

    # Ø17.0 (17) 直径孔1
    with Locations(Plane(origin=(0, 0, 0), x_dir=(-1, 0, 0), z_dir=(0, 0, -1))):
        with Locations((0, 0)):
            Hole(HOLE_WIZARD_17_0_17_1_D / 2, depth=HOLE_WIZARD_17_0_17_1_DEPTH)

    # M3 间隙孔4
    with Locations(Plane(origin=(0, 0, 0), x_dir=(-1, 0, 0), z_dir=(0, 0, -1))):
        with Locations((15, -6), (-15, 6)):
            Hole(HOLE_WIZARD_M3_4_D / 2, depth=HOLE_WIZARD_M3_4_DEPTH)
            with Locations((0, 0, -(HOLE_WIZARD_M3_4_DEPTH + HOLE_WIZARD_M3_4_TIP / 2))):  # 120° drill point
                Cone(0, HOLE_WIZARD_M3_4_D / 2, HOLE_WIZARD_M3_4_TIP, mode=Mode.SUBTRACT)

    # M3.5 间隙孔1
    with Locations(Plane(origin=(19, 0, 0), x_dir=(0, 0, -1), z_dir=(1, 0, 0))):
        with Locations((-7, -4), (-32, 4)):
            Hole(HOLE_WIZARD_M3_5_1_D / 2, depth=HOLE_WIZARD_M3_5_1_DEPTH)
            with Locations((0, 0, -(HOLE_WIZARD_M3_5_1_DEPTH + HOLE_WIZARD_M3_5_1_TIP / 2))):  # 120° drill point
                Cone(0, HOLE_WIZARD_M3_5_1_D / 2, HOLE_WIZARD_M3_5_1_TIP, mode=Mode.SUBTRACT)

    # 倒角1
    chamfer_1_edges = [part.edges().sort_by_distance(p)[0] for p in [
        (16.621, 10, 41),
        (-13.379, 10, 41),
        (-19, -6, 34.621),
        (-19, 6, 34.621),
        (-16.621, -10, 41),
        (13.379, -10, 41),
        (13.379, 6, 0),
        (-16.621, -6, 0),
        (19, 4, 29.933),
        (19, -4, 4.933),
    ]]
    chamfer(chamfer_1_edges, length=CHAMFER_1_SIZE)


solid = part.part
